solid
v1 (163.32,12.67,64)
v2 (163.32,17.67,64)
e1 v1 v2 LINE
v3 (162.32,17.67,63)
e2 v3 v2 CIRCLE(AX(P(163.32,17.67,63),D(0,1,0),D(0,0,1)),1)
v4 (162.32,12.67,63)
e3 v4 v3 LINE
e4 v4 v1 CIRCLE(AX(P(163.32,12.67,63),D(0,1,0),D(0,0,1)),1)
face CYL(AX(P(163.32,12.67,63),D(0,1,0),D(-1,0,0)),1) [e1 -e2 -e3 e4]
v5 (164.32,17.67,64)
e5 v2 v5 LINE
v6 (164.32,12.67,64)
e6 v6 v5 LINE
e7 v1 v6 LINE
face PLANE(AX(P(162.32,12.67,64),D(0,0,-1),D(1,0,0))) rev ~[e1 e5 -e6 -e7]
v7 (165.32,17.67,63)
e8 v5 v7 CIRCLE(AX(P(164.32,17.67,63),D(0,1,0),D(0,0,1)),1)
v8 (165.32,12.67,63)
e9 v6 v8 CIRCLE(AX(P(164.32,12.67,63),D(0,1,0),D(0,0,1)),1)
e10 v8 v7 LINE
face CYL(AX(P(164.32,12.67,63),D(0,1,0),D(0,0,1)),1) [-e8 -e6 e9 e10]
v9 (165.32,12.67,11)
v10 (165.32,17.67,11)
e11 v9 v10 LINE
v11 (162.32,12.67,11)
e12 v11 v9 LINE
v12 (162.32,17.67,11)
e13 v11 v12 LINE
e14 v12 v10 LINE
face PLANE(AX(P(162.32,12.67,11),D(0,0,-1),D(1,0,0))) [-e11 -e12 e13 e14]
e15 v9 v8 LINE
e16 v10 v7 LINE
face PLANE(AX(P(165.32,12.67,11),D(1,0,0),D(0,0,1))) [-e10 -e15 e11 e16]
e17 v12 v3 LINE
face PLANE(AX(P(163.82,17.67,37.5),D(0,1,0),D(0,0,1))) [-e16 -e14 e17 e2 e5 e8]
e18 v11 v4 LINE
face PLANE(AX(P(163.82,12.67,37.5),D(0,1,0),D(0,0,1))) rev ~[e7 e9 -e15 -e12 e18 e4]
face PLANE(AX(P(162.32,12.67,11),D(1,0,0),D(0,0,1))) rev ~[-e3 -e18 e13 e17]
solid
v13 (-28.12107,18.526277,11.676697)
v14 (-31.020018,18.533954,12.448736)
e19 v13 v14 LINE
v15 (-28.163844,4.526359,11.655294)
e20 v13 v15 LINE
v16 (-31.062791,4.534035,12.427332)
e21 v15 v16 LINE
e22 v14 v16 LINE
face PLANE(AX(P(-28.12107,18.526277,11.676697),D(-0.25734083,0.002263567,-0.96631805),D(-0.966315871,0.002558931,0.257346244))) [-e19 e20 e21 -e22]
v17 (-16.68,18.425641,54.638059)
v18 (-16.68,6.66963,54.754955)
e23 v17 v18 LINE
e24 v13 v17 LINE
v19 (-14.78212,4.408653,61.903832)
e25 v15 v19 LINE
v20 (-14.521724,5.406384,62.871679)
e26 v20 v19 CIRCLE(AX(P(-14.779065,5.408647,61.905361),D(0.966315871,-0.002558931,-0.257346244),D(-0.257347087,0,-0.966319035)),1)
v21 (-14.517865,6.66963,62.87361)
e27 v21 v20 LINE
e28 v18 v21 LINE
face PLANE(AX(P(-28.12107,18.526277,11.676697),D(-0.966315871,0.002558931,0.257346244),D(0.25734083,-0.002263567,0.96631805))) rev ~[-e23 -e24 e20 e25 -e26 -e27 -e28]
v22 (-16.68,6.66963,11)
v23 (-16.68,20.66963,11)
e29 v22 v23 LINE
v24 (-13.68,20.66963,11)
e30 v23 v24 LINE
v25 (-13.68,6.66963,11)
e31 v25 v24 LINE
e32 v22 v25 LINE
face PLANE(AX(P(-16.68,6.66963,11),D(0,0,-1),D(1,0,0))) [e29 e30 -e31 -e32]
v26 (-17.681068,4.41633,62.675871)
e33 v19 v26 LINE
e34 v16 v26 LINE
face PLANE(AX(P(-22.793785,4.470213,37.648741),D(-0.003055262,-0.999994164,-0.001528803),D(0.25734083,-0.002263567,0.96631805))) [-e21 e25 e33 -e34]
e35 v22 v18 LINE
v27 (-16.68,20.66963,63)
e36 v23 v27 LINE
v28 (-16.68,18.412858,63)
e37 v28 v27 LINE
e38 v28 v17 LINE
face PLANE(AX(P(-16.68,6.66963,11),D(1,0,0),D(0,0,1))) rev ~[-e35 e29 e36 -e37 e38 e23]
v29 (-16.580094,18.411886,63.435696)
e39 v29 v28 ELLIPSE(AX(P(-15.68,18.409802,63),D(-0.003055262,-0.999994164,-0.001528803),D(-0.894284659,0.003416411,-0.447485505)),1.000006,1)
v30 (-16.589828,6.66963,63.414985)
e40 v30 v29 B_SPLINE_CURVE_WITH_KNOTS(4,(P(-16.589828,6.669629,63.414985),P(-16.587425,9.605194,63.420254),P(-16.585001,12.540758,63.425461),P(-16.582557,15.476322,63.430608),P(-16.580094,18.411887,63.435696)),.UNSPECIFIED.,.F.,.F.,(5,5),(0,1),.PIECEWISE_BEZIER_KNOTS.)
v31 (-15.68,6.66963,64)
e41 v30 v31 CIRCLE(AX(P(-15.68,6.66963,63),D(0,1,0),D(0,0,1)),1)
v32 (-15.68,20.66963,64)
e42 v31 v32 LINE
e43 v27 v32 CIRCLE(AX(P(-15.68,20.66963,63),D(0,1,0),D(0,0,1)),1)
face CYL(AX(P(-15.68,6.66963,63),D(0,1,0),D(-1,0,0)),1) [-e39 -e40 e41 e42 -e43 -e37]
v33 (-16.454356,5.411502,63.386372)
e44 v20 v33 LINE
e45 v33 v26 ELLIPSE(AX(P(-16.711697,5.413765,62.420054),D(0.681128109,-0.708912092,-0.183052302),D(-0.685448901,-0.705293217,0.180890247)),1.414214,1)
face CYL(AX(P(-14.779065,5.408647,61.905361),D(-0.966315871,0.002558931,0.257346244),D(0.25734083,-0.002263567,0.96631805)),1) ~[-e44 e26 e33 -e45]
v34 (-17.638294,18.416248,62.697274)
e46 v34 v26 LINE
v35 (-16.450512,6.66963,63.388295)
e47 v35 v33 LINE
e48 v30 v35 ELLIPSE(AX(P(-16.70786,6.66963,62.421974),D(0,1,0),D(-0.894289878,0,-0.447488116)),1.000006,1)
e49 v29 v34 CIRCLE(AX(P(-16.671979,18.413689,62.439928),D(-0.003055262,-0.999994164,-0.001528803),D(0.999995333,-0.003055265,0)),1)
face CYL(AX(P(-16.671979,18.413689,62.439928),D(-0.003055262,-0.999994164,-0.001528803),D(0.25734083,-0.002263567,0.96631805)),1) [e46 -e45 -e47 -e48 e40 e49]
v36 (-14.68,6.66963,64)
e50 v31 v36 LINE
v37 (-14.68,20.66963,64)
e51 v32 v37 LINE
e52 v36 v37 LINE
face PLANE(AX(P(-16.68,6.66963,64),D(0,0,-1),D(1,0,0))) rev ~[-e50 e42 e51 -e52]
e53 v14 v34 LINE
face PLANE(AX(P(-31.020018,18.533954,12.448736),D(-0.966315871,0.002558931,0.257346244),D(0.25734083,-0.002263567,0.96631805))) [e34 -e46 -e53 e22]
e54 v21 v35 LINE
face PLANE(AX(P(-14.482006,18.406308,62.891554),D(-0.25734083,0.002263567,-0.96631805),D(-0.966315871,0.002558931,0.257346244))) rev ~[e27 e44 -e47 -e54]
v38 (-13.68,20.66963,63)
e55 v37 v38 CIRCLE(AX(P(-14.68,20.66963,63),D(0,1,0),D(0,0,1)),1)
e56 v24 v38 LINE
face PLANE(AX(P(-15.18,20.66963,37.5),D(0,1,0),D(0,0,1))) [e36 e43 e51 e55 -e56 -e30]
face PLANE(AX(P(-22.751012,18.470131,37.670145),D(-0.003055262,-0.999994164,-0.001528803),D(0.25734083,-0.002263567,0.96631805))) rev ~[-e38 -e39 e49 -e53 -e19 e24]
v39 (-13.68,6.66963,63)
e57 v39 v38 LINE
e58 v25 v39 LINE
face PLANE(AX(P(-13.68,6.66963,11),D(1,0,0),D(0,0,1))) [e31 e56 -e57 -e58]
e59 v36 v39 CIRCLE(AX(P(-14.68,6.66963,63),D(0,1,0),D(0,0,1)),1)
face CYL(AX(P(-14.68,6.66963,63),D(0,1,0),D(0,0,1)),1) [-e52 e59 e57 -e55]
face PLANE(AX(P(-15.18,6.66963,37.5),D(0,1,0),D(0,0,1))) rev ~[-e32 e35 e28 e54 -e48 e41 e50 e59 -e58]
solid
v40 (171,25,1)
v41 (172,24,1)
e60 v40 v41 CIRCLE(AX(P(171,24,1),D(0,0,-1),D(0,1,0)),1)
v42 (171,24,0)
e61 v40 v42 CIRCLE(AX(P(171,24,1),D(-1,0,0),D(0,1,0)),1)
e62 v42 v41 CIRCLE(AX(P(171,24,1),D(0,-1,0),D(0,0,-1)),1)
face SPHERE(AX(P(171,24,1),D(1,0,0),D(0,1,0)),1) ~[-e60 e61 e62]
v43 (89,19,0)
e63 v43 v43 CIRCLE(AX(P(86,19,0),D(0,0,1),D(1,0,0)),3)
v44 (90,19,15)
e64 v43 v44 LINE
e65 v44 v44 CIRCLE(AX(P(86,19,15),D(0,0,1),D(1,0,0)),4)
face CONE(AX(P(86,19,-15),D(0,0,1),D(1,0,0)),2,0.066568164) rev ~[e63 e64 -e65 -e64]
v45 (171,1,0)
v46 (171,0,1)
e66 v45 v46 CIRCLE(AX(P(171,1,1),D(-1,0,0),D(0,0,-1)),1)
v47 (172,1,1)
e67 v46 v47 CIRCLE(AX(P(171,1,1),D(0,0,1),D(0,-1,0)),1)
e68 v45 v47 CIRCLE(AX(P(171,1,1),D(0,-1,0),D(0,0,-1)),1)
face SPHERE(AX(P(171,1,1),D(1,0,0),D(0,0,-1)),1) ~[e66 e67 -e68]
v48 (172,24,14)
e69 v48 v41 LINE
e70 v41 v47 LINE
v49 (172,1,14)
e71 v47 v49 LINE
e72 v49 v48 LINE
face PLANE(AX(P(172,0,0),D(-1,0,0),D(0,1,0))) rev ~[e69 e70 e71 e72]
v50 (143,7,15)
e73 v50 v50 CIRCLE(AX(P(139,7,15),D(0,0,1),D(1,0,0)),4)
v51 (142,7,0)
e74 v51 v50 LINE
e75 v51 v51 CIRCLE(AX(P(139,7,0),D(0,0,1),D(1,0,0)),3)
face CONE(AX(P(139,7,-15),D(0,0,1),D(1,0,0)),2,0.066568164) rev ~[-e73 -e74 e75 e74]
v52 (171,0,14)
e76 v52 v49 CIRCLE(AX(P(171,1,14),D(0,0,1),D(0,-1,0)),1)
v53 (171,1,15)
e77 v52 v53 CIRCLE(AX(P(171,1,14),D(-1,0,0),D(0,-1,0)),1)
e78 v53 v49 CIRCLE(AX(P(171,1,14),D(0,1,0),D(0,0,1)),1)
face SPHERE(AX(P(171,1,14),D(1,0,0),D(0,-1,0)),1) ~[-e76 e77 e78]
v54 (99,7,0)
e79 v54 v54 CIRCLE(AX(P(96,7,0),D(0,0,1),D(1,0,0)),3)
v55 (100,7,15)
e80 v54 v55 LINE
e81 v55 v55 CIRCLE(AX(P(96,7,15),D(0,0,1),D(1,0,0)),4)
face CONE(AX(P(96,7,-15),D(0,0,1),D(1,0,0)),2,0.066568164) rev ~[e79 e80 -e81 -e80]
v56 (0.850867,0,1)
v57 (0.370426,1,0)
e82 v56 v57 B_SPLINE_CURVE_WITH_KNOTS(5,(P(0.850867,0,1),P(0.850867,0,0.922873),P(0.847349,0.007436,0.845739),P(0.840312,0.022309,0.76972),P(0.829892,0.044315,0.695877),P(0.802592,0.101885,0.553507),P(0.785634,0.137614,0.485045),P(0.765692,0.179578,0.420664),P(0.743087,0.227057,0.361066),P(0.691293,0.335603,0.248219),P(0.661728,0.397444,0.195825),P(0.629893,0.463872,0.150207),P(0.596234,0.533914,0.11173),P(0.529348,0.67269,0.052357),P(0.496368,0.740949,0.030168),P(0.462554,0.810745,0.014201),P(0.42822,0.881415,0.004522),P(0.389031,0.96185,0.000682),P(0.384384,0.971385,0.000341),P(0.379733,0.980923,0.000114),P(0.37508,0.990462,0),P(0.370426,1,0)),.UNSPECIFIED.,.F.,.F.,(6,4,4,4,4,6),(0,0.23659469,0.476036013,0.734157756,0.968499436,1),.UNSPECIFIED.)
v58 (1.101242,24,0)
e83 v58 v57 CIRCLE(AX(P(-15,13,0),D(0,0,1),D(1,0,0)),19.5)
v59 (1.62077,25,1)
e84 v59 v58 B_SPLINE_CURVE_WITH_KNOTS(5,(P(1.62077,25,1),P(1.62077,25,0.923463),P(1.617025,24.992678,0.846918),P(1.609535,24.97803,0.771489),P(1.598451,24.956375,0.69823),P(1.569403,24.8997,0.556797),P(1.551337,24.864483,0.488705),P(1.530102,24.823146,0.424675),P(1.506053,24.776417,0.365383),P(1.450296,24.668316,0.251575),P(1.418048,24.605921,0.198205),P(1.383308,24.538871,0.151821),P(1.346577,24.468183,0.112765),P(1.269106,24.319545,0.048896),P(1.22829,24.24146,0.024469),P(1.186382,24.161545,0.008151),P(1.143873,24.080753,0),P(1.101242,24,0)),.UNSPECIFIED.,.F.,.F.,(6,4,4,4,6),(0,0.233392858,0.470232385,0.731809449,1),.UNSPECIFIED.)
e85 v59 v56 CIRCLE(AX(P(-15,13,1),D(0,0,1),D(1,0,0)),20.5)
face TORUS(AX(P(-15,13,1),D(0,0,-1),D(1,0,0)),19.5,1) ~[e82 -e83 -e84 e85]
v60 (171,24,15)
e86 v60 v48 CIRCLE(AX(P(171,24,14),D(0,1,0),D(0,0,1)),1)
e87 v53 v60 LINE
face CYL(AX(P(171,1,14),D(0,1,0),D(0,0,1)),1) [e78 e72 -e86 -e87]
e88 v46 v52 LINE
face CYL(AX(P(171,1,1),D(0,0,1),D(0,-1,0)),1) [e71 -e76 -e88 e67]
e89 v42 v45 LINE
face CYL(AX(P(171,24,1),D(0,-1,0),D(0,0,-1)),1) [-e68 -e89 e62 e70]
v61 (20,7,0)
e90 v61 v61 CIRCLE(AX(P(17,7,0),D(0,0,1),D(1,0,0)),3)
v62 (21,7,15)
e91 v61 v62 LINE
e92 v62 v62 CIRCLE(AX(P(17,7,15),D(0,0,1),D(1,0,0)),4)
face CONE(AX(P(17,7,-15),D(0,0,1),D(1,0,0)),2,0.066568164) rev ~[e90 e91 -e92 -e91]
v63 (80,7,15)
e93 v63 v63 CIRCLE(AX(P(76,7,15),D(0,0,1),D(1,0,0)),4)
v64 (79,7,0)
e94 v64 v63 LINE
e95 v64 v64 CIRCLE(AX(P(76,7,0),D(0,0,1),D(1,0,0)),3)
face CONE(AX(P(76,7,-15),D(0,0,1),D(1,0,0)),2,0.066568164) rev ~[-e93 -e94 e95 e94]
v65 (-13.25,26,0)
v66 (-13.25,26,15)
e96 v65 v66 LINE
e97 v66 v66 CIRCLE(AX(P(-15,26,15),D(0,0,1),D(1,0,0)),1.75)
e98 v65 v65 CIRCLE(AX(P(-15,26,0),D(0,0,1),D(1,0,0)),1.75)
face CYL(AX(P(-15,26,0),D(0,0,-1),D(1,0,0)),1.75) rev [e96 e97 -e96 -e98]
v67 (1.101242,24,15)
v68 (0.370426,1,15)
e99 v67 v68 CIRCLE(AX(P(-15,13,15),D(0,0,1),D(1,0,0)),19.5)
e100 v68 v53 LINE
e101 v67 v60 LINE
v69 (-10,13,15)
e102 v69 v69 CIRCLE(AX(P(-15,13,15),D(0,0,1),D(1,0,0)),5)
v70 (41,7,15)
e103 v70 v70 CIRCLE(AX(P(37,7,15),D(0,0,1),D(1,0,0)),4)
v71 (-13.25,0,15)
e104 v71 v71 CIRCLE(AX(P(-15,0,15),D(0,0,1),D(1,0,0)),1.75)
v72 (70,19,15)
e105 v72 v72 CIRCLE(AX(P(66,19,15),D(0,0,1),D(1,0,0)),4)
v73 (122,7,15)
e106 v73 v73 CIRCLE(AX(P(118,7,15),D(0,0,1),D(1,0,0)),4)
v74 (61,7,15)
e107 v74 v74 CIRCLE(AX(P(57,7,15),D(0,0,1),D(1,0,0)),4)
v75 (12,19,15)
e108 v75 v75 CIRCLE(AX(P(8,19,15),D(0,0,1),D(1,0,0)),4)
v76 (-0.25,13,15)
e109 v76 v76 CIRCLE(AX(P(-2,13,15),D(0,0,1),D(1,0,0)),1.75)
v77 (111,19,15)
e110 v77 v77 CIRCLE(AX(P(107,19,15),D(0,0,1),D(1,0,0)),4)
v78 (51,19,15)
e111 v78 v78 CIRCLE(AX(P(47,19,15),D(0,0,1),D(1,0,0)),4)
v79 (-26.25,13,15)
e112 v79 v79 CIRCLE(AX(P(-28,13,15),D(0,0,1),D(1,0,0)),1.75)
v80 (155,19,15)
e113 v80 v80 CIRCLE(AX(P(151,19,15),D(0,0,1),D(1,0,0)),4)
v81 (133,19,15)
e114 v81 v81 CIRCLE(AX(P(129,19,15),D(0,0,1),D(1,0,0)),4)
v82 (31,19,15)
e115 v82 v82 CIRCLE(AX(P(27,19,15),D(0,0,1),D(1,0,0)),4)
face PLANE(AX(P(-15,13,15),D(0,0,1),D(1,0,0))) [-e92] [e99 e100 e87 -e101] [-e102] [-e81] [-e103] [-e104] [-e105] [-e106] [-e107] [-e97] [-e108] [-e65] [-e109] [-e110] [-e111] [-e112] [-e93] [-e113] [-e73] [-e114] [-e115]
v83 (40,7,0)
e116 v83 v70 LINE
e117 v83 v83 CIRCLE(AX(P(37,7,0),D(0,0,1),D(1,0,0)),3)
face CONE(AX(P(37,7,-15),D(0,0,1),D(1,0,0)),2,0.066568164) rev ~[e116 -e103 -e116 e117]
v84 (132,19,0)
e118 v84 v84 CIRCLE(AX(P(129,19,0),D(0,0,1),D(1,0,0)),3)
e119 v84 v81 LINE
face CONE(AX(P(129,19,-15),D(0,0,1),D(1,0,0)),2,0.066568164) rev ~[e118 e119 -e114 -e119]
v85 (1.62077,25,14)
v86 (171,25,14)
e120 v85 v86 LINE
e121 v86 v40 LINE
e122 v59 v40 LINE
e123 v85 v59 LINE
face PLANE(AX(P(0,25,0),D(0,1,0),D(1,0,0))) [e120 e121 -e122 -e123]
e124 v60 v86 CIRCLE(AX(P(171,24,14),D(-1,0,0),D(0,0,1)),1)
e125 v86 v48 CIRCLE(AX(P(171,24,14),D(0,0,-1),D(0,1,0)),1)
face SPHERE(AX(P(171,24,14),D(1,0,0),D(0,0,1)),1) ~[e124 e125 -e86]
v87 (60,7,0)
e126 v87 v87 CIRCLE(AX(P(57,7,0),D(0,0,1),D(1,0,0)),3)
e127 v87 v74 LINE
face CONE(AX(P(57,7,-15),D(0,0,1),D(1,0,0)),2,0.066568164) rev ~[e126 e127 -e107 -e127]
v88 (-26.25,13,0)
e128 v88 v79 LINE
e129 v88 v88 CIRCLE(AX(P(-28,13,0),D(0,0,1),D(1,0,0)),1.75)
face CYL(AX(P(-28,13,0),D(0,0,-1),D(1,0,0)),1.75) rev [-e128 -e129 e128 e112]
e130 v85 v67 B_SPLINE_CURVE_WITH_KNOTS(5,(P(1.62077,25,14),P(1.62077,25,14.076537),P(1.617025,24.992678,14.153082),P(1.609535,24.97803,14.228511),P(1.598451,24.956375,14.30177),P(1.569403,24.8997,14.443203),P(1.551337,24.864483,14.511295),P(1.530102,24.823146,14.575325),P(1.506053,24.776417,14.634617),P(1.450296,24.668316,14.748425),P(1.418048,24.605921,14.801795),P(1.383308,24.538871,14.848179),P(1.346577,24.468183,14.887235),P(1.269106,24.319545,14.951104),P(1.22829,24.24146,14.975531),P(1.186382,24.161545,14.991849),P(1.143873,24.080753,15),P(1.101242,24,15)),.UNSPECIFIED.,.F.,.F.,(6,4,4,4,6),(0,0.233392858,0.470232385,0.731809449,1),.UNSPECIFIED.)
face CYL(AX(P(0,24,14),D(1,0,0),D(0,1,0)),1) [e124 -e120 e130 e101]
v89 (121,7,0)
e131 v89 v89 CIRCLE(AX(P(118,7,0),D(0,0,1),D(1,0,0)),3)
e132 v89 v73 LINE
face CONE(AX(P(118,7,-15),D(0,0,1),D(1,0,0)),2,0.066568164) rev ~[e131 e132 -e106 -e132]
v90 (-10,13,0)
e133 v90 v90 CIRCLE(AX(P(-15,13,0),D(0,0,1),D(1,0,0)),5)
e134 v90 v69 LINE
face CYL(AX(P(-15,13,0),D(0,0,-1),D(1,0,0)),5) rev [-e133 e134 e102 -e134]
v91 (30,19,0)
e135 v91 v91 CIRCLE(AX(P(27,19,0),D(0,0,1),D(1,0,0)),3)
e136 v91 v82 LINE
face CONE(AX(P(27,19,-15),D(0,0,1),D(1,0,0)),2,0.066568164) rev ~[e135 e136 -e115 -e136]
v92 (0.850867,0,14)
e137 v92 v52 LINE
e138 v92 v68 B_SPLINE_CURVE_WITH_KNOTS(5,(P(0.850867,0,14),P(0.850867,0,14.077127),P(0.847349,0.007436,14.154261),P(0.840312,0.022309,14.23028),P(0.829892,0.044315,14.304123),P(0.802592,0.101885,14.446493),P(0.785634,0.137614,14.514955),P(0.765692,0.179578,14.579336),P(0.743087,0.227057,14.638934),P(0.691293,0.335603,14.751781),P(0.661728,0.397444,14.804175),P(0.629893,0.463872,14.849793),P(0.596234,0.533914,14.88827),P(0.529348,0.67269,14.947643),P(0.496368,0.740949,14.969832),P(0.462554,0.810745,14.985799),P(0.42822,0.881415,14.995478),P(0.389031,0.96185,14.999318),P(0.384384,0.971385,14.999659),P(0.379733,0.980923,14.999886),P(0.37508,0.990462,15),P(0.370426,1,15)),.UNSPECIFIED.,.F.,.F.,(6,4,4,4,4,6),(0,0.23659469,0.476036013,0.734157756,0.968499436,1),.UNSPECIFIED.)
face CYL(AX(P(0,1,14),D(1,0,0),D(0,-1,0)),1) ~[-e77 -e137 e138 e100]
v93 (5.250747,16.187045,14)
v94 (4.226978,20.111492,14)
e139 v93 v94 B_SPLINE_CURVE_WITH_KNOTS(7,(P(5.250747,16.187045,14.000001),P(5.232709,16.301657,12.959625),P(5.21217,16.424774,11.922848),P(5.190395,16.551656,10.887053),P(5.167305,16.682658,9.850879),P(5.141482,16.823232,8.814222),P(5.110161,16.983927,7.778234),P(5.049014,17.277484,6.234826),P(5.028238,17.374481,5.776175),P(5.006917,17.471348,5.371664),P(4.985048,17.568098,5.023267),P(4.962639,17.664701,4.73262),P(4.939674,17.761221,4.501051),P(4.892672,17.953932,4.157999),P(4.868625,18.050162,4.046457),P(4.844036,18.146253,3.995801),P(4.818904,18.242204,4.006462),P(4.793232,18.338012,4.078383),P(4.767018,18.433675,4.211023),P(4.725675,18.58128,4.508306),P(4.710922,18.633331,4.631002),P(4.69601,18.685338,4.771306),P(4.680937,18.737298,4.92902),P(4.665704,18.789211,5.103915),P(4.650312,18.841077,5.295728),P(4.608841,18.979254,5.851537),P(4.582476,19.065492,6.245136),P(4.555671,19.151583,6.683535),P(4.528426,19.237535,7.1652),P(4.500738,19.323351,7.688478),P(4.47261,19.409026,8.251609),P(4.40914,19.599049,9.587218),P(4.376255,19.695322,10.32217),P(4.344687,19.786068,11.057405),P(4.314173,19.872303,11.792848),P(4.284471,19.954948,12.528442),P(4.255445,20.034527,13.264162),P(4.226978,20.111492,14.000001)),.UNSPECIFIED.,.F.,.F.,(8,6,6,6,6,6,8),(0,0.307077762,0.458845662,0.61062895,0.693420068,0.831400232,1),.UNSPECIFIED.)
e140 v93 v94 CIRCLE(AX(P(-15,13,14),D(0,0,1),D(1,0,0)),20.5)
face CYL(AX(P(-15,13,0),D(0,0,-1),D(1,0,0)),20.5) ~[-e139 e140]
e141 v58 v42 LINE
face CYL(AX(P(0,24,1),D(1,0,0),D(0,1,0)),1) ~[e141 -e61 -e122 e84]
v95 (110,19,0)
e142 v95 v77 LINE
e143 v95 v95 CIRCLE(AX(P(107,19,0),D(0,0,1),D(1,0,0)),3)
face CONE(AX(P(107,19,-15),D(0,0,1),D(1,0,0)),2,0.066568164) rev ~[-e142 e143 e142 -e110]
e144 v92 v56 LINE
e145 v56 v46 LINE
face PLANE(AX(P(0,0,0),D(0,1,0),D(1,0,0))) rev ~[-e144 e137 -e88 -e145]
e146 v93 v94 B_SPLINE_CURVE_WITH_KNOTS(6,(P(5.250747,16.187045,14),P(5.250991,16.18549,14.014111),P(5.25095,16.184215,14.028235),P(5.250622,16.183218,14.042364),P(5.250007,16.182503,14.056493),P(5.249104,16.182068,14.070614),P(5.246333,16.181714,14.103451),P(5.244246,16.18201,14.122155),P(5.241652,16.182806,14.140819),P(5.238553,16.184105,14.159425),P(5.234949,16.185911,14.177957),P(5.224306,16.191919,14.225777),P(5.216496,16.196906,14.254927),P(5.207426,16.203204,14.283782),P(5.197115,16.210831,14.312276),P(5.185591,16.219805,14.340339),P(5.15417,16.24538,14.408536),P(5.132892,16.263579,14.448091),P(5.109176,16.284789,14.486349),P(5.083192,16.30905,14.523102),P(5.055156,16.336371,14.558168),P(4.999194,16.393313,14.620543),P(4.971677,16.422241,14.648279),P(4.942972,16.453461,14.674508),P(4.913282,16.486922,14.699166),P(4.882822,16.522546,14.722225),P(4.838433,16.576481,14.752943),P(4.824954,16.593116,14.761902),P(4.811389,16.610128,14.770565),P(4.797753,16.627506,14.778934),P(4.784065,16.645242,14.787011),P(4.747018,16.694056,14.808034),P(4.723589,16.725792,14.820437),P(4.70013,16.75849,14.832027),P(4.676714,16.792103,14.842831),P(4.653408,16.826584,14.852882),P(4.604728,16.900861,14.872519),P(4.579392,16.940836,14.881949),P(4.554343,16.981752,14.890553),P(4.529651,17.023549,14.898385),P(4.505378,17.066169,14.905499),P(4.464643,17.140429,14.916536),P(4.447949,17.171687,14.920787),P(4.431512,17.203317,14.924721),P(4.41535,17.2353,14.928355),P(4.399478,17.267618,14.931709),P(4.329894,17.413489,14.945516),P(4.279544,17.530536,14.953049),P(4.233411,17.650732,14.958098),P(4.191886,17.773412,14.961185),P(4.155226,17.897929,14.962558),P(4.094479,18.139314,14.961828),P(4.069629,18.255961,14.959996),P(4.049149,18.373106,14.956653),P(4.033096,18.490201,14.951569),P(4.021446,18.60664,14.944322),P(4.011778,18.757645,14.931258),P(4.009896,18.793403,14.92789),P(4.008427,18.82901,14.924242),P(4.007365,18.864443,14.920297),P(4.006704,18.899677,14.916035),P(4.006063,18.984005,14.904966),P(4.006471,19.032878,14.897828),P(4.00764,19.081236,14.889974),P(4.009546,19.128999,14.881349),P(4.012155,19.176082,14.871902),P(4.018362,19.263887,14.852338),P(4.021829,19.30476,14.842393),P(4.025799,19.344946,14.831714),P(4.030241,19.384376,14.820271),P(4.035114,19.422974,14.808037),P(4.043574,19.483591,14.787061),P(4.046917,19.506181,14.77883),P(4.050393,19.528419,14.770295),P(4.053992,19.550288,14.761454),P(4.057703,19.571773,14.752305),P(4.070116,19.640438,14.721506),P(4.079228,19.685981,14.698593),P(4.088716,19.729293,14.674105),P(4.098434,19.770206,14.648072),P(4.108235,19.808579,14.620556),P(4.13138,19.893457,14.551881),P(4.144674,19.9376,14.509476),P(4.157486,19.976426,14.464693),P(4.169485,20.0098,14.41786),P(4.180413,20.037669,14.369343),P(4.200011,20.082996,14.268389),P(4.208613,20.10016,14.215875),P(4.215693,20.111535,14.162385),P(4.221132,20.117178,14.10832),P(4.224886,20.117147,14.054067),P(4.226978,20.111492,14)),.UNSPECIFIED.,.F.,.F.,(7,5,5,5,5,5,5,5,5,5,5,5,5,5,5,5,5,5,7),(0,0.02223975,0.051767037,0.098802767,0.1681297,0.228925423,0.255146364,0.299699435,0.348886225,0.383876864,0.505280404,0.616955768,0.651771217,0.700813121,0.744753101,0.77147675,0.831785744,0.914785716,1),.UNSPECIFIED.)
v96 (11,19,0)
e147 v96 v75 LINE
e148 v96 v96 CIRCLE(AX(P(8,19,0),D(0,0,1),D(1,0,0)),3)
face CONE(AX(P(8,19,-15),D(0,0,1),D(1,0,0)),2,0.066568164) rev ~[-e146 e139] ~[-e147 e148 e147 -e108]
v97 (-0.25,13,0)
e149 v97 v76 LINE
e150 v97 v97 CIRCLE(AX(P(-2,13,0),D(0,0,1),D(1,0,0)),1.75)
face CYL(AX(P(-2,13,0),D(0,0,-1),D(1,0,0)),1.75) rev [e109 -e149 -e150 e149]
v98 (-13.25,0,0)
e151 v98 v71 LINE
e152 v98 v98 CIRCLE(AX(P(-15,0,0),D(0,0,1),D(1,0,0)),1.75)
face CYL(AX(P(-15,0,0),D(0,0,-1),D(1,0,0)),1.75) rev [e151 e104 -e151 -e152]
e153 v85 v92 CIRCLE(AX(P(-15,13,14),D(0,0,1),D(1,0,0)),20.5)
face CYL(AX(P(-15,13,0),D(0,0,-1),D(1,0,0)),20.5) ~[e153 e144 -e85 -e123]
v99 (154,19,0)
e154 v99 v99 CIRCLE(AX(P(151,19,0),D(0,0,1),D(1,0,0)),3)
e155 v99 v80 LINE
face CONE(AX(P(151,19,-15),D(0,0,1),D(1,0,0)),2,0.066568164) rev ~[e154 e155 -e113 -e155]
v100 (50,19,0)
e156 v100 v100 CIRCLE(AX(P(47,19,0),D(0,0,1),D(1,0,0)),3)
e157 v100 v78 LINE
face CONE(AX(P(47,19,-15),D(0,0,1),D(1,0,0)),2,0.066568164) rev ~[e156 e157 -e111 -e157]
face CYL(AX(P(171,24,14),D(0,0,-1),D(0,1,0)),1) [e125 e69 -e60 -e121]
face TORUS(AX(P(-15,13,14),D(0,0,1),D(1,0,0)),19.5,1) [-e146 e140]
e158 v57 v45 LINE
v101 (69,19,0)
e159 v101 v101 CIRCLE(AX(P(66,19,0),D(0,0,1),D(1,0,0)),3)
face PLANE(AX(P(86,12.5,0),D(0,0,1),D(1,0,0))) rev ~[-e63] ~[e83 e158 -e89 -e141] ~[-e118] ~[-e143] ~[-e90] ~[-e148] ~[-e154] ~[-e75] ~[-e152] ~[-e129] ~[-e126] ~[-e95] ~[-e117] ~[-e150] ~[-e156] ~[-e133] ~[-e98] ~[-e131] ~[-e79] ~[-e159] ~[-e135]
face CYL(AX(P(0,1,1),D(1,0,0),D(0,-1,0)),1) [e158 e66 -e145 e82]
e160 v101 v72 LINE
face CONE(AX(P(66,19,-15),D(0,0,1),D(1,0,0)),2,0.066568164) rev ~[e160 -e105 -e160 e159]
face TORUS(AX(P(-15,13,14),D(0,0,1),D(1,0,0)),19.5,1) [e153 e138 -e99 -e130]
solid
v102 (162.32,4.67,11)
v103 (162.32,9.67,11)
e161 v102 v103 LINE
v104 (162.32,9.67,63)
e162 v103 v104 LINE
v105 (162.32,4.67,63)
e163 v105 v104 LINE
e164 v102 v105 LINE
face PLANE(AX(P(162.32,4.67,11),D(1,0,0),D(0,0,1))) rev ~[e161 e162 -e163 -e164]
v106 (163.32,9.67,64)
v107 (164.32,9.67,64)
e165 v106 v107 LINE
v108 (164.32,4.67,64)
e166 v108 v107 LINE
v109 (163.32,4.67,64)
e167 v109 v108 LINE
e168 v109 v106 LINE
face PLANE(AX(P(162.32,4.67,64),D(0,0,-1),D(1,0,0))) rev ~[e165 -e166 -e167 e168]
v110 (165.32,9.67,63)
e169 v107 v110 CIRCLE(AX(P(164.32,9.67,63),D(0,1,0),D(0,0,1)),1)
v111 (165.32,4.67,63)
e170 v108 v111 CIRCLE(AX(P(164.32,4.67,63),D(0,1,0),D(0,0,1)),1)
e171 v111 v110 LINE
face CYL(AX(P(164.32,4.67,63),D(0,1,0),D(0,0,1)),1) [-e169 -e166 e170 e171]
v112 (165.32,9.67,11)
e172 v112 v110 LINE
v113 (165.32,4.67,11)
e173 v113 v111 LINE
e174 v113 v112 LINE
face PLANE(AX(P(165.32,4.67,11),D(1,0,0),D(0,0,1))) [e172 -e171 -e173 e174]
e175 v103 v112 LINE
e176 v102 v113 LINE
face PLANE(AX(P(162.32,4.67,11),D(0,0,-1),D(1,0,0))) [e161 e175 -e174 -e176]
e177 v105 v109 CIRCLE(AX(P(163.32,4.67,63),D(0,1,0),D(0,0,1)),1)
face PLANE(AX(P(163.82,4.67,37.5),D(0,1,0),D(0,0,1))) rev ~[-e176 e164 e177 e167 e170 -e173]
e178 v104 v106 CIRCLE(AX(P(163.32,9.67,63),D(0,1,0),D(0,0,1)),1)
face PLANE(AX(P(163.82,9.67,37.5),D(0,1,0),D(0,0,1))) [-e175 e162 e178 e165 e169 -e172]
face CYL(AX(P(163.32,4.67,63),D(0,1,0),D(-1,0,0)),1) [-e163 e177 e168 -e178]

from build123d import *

# Parameters (mm, degrees)
BOX001_W               = 53
BOX001_H               = 3
BOX001_DEPTH           = 14
BOX001_ROLL_ANGLE      = 90.34037
BOX001_PITCH_ANGLE     = -75.087075
BOX001_PLACEMENT_ANGLE = -0.50396
FILLET003_R            = 1
BOX003_W               = 53
BOX003_H               = 3
BOX003_DEPTH           = 5
FILLET004_R            = 1
BOX004_W               = 53
BOX004_H               = 3
BOX004_DEPTH           = 5
FILLET005_R            = 1
BOX002_W               = 53
BOX002_H               = 3
BOX002_DEPTH           = 14
FILLET002_R            = 1
CYLINDER008_R          = 1.75
CYLINDER008_DEPTH      = 15
CYLINDER004_R          = 1.75
CYLINDER004_DEPTH      = 15
CYLINDER006_R          = 1.75
CYLINDER006_DEPTH      = 15
CYLINDER007_R          = 1.75
CYLINDER007_DEPTH      = 15
CYLINDER_R             = 5
CYLINDER_DEPTH         = 15
CYLINDER005_R          = 20.5
CYLINDER005_DEPTH      = 15
FILLET_R               = 1
BOX_W                  = 172
BOX_H                  = 25
BOX_DEPTH              = 15
FILLET001_R            = 1
FILLET006_R            = 1


with BuildPart() as fillet003:
    # Box001 → Box001 (new body)
    with BuildSketch(Plane.XY):
        with Locations((26.5, 1.5)):
            Rectangle(BOX001_W, BOX001_H)
    extrude(amount=BOX001_DEPTH)


with BuildPart() as fillet003_1:
    # Box001 roll: moved
    add(fillet003.part.rotate(Axis((0, 0, 0), (1, 0, 0)), BOX001_ROLL_ANGLE))


with BuildPart() as fillet003_2:
    # Box001 pitch: moved
    add(fillet003_1.part.rotate(Axis((0, 0, 0), (0, 1, 0)), BOX001_PITCH_ANGLE))


with BuildPart() as fillet003_3:
    # Box001 placement: moved
    add(fillet003_2.part.moved(Location((-28.12107, 18.526277, 11.676697))).rotate(Axis((-28.12107, 18.526277, 11.676697), (0, 0, 1)), BOX001_PLACEMENT_ANGLE))

    # Fillet003
    fillet003_edges = [fillet003_3.edges().sort_by_distance(p)[0] for p in [
        (-15.974254, 4.410228, 63.25617),
        (-17.402341, 11.414026, 63.652891),
    ]]
    fillet(fillet003_edges, radius=FILLET003_R)


with BuildPart() as fillet004:
    # Box003 → Box003 (new body)
    with BuildSketch(Plane(origin=(-15.68, 12.67, 11), x_dir=(0, 0, 1), z_dir=(0, 1, 0))):
        with Locations((26.5, 1.5)):
            Rectangle(BOX003_W, BOX003_H)
    extrude(amount=BOX003_DEPTH)

    # Fillet004
    fillet004_edges = [fillet004.edges().sort_by_distance(p)[0] for p in [
        (-15.68, 15.17, 64),
        (-12.68, 15.17, 64),
    ]]
    fillet(fillet004_edges, radius=FILLET004_R)


with BuildPart() as fillet004_1:
    # Fillet004 placement: moved
    add(fillet004.part.moved(Location((178, 0, 0))))


with BuildPart() as fillet005:
    # Box004 → Box004 (new body)
    with BuildSketch(Plane(origin=(-15.68, 12.67, 11), x_dir=(0, 0, 1), z_dir=(0, 1, 0))):
        with Locations((26.5, 1.5)):
            Rectangle(BOX004_W, BOX004_H)
    extrude(amount=BOX004_DEPTH)

    # Fillet005
    fillet005_edges = [fillet005.edges().sort_by_distance(p)[0] for p in [
        (-15.68, 15.17, 64),
        (-12.68, 15.17, 64),
    ]]
    fillet(fillet005_edges, radius=FILLET005_R)


with BuildPart() as fillet005_1:
    # Fillet005 placement: moved
    add(fillet005.part.moved(Location((178, -8, 0))))


with BuildPart() as legs:
    # Box002 → Box002 (new body)
    with BuildSketch(Plane(origin=(-16.68, 6.66963, 11), x_dir=(0, 0, 1), z_dir=(0, 1, 0))):
        with Locations((26.5, 1.5)):
            Rectangle(BOX002_W, BOX002_H)
    extrude(amount=BOX002_DEPTH)

    # Fillet002
    fillet002_edges = [legs.edges().sort_by_distance(p)[0] for p in [
        (-16.68, 13.66963, 64),
        (-13.68, 13.66963, 64),
    ]]
    fillet(fillet002_edges, radius=FILLET002_R)

    # Fusion: union Fillet003, Fillet004, Fillet005
    add(fillet003_3.part)
    add(fillet004_1.part)
    add(fillet005_1.part)


with BuildPart() as cylinder008:
    # Cylinder008 → Cylinder008 (new body)
    with BuildSketch(Plane(origin=(47, 62, 0), x_dir=(1, 0, 0), z_dir=(0, 0, 1))):
        Circle(CYLINDER008_R)
    extrude(amount=CYLINDER008_DEPTH)


with BuildPart() as cylinder004:
    # Cylinder004 → Cylinder004 (new body)
    with BuildSketch(Plane(origin=(34, 75, 0), x_dir=(1, 0, 0), z_dir=(0, 0, 1))):
        Circle(CYLINDER004_R)
    extrude(amount=CYLINDER004_DEPTH)


with BuildPart() as cylinder006:
    # Cylinder006 → Cylinder006 (new body)
    with BuildSketch(Plane(origin=(60, 75, 0), x_dir=(1, 0, 0), z_dir=(0, 0, 1))):
        Circle(CYLINDER006_R)
    extrude(amount=CYLINDER006_DEPTH)


with BuildPart() as cylinder007:
    # Cylinder007 → Cylinder007 (new body)
    with BuildSketch(Plane(origin=(47, 88, 0), x_dir=(1, 0, 0), z_dir=(0, 0, 1))):
        Circle(CYLINDER007_R)
    extrude(amount=CYLINDER007_DEPTH)


with BuildPart() as cylinder:
    # Cylinder → Cylinder (new body)
    with BuildSketch(Plane(origin=(47, 75, 0), x_dir=(1, 0, 0), z_dir=(0, 0, 1))):
        Circle(CYLINDER_R)
    extrude(amount=CYLINDER_DEPTH)


with BuildPart() as fillet_body:
    # Cylinder005 → Cylinder005 (new body)
    with BuildSketch(Plane(origin=(47, 75, 0), x_dir=(1, 0, 0), z_dir=(0, 0, 1))):
        Circle(CYLINDER005_R)
    extrude(amount=CYLINDER005_DEPTH)

    # Cut: cut Cylinder
    add(cylinder.part, mode=Mode.SUBTRACT)

    # Cut001: cut Cylinder007
    add(cylinder007.part, mode=Mode.SUBTRACT)

    # Cut002: cut Cylinder006
    add(cylinder006.part, mode=Mode.SUBTRACT)

    # Cut003: cut Cylinder004
    add(cylinder004.part, mode=Mode.SUBTRACT)

    # Cut004: cut Cylinder008
    add(cylinder008.part, mode=Mode.SUBTRACT)

    # Fillet
    fillet_edges = [fillet_body.edges().sort_by_distance(p)[0] for p in [
        (26.5, 75, 15),
        (26.5, 75, 0),
    ]]
    fillet(fillet_edges, radius=FILLET_R)


with BuildPart() as fillet_body_1:
    # Fillet placement: moved
    add(fillet_body.part.moved(Location((-62, -62, 0))))


with BuildPart() as cone002:
    # Cone002 → Cone002 (revolve)
    with BuildSketch(Plane(origin=(129, 19, -15), x_dir=(1, 0, 0), z_dir=(0, -1, 0))):
        Polygon((0, 0), (2, 0), (4, 30), (0, 30), align=None)
    revolve(axis=Axis((129, 19, -15), (0, 0, 1)))


with BuildPart() as cone003:
    # Cone003 → Cone003 (revolve)
    with BuildSketch(Plane(origin=(118, 7, -15), x_dir=(1, 0, 0), z_dir=(0, -1, 0))):
        Polygon((0, 0), (2, 0), (4, 30), (0, 30), align=None)
    revolve(axis=Axis((118, 7, -15), (0, 0, 1)))


with BuildPart() as cone004:
    # Cone004 → Cone004 (revolve)
    with BuildSketch(Plane(origin=(107, 19, -15), x_dir=(1, 0, 0), z_dir=(0, -1, 0))):
        Polygon((0, 0), (2, 0), (4, 30), (0, 30), align=None)
    revolve(axis=Axis((107, 19, -15), (0, 0, 1)))


with BuildPart() as cone005:
    # Cone005 → Cone005 (revolve)
    with BuildSketch(Plane(origin=(86, 19, -15), x_dir=(1, 0, 0), z_dir=(0, -1, 0))):
        Polygon((0, 0), (2, 0), (4, 30), (0, 30), align=None)
    revolve(axis=Axis((86, 19, -15), (0, 0, 1)))


with BuildPart() as cone006:
    # Cone006 → Cone006 (revolve)
    with BuildSketch(Plane(origin=(66, 19, -15), x_dir=(1, 0, 0), z_dir=(0, -1, 0))):
        Polygon((0, 0), (2, 0), (4, 30), (0, 30), align=None)
    revolve(axis=Axis((66, 19, -15), (0, 0, 1)))


with BuildPart() as cone007:
    # Cone007 → Cone007 (revolve)
    with BuildSketch(Plane(origin=(47, 19, -15), x_dir=(1, 0, 0), z_dir=(0, -1, 0))):
        Polygon((0, 0), (2, 0), (4, 30), (0, 30), align=None)
    revolve(axis=Axis((47, 19, -15), (0, 0, 1)))


with BuildPart() as cone009:
    # Cone009 → Cone009 (revolve)
    with BuildSketch(Plane(origin=(8, 19, -15), x_dir=(1, 0, 0), z_dir=(0, -1, 0))):
        Polygon((0, 0), (2, 0), (4, 30), (0, 30), align=None)
    revolve(axis=Axis((8, 19, -15), (0, 0, 1)))


with BuildPart() as cone008:
    # Cone008 → Cone008 (revolve)
    with BuildSketch(Plane(origin=(27, 19, -15), x_dir=(1, 0, 0), z_dir=(0, -1, 0))):
        Polygon((0, 0), (2, 0), (4, 30), (0, 30), align=None)
    revolve(axis=Axis((27, 19, -15), (0, 0, 1)))


with BuildPart() as cone011:
    # Cone011 → Cone011 (revolve)
    with BuildSketch(Plane(origin=(76, 7, -15), x_dir=(1, 0, 0), z_dir=(0, -1, 0))):
        Polygon((0, 0), (2, 0), (4, 30), (0, 30), align=None)
    revolve(axis=Axis((76, 7, -15), (0, 0, 1)))


with BuildPart() as cone012:
    # Cone012 → Cone012 (revolve)
    with BuildSketch(Plane(origin=(57, 7, -15), x_dir=(1, 0, 0), z_dir=(0, -1, 0))):
        Polygon((0, 0), (2, 0), (4, 30), (0, 30), align=None)
    revolve(axis=Axis((57, 7, -15), (0, 0, 1)))


with BuildPart() as cone013:
    # Cone013 → Cone013 (revolve)
    with BuildSketch(Plane(origin=(37, 7, -15), x_dir=(1, 0, 0), z_dir=(0, -1, 0))):
        Polygon((0, 0), (2, 0), (4, 30), (0, 30), align=None)
    revolve(axis=Axis((37, 7, -15), (0, 0, 1)))


with BuildPart() as cone014:
    # Cone014 → Cone014 (revolve)
    with BuildSketch(Plane(origin=(17, 7, -15), x_dir=(1, 0, 0), z_dir=(0, -1, 0))):
        Polygon((0, 0), (2, 0), (4, 30), (0, 30), align=None)
    revolve(axis=Axis((17, 7, -15), (0, 0, 1)))


with BuildPart() as cone010:
    # Cone010 → Cone010 (revolve)
    with BuildSketch(Plane(origin=(96, 7, -15), x_dir=(1, 0, 0), z_dir=(0, -1, 0))):
        Polygon((0, 0), (2, 0), (4, 30), (0, 30), align=None)
    revolve(axis=Axis((96, 7, -15), (0, 0, 1)))


with BuildPart() as cone001:
    # Cone001 → Cone001 (revolve)
    with BuildSketch(Plane(origin=(139, 7, -15), x_dir=(1, 0, 0), z_dir=(0, -1, 0))):
        Polygon((0, 0), (2, 0), (4, 30), (0, 30), align=None)
    revolve(axis=Axis((139, 7, -15), (0, 0, 1)))


with BuildPart() as cone:
    # Cone → Cone (revolve)
    with BuildSketch(Plane(origin=(151, 19, -15), x_dir=(1, 0, 0), z_dir=(0, -1, 0))):
        Polygon((0, 0), (2, 0), (4, 30), (0, 30), align=None)
    revolve(axis=Axis((151, 19, -15), (0, 0, 1)))


with BuildPart() as top:
    # Box → Box (new body)
    with BuildSketch(Plane.XY):
        with Locations((86, 12.5)):
            Rectangle(BOX_W, BOX_H)
    extrude(amount=BOX_DEPTH)

    # Fillet001
    fillet001_edges = [top.edges().sort_by_distance(p)[0] for p in [
        (86, 0, 0),
        (86, 0, 15),
        (86, 25, 0),
        (86, 25, 15),
    ]]
    fillet(fillet001_edges, radius=FILLET001_R)

    # Cut005: cut Cone
    add(cone.part, mode=Mode.SUBTRACT)

    # Fillet006
    fillet006_edges = [top.edges().sort_by_distance(p)[0] for p in [
        (172, 0, 7.5),
        (172, 12.5, 0),
        (172, 12.5, 15),
        (172, 25, 7.5),
    ]]
    fillet(fillet006_edges, radius=FILLET006_R)

    # Cut006: cut Cone001
    add(cone001.part, mode=Mode.SUBTRACT)

    # Cut007: cut Cone010
    add(cone010.part, mode=Mode.SUBTRACT)

    # Cut008: cut Cone014
    add(cone014.part, mode=Mode.SUBTRACT)

    # Cut009: cut Cone013
    add(cone013.part, mode=Mode.SUBTRACT)

    # Cut010: cut Cone012
    add(cone012.part, mode=Mode.SUBTRACT)

    # Cut011: cut Cone011
    add(cone011.part, mode=Mode.SUBTRACT)

    # Cut012: cut Cone008
    add(cone008.part, mode=Mode.SUBTRACT)

    # Cut013: cut Cone009
    add(cone009.part, mode=Mode.SUBTRACT)

    # Cut014: cut Cone007
    add(cone007.part, mode=Mode.SUBTRACT)

    # Cut015: cut Cone006
    add(cone006.part, mode=Mode.SUBTRACT)

    # Cut016: cut Cone005
    add(cone005.part, mode=Mode.SUBTRACT)

    # Cut017: cut Cone004
    add(cone004.part, mode=Mode.SUBTRACT)

    # Cut018: cut Cone003
    add(cone003.part, mode=Mode.SUBTRACT)

    # Cut019: cut Cone002
    add(cone002.part, mode=Mode.SUBTRACT)

    # Fusion001: union Fillet body
    add(fillet_body_1.part)


solid = Compound([legs.part, top.part])
